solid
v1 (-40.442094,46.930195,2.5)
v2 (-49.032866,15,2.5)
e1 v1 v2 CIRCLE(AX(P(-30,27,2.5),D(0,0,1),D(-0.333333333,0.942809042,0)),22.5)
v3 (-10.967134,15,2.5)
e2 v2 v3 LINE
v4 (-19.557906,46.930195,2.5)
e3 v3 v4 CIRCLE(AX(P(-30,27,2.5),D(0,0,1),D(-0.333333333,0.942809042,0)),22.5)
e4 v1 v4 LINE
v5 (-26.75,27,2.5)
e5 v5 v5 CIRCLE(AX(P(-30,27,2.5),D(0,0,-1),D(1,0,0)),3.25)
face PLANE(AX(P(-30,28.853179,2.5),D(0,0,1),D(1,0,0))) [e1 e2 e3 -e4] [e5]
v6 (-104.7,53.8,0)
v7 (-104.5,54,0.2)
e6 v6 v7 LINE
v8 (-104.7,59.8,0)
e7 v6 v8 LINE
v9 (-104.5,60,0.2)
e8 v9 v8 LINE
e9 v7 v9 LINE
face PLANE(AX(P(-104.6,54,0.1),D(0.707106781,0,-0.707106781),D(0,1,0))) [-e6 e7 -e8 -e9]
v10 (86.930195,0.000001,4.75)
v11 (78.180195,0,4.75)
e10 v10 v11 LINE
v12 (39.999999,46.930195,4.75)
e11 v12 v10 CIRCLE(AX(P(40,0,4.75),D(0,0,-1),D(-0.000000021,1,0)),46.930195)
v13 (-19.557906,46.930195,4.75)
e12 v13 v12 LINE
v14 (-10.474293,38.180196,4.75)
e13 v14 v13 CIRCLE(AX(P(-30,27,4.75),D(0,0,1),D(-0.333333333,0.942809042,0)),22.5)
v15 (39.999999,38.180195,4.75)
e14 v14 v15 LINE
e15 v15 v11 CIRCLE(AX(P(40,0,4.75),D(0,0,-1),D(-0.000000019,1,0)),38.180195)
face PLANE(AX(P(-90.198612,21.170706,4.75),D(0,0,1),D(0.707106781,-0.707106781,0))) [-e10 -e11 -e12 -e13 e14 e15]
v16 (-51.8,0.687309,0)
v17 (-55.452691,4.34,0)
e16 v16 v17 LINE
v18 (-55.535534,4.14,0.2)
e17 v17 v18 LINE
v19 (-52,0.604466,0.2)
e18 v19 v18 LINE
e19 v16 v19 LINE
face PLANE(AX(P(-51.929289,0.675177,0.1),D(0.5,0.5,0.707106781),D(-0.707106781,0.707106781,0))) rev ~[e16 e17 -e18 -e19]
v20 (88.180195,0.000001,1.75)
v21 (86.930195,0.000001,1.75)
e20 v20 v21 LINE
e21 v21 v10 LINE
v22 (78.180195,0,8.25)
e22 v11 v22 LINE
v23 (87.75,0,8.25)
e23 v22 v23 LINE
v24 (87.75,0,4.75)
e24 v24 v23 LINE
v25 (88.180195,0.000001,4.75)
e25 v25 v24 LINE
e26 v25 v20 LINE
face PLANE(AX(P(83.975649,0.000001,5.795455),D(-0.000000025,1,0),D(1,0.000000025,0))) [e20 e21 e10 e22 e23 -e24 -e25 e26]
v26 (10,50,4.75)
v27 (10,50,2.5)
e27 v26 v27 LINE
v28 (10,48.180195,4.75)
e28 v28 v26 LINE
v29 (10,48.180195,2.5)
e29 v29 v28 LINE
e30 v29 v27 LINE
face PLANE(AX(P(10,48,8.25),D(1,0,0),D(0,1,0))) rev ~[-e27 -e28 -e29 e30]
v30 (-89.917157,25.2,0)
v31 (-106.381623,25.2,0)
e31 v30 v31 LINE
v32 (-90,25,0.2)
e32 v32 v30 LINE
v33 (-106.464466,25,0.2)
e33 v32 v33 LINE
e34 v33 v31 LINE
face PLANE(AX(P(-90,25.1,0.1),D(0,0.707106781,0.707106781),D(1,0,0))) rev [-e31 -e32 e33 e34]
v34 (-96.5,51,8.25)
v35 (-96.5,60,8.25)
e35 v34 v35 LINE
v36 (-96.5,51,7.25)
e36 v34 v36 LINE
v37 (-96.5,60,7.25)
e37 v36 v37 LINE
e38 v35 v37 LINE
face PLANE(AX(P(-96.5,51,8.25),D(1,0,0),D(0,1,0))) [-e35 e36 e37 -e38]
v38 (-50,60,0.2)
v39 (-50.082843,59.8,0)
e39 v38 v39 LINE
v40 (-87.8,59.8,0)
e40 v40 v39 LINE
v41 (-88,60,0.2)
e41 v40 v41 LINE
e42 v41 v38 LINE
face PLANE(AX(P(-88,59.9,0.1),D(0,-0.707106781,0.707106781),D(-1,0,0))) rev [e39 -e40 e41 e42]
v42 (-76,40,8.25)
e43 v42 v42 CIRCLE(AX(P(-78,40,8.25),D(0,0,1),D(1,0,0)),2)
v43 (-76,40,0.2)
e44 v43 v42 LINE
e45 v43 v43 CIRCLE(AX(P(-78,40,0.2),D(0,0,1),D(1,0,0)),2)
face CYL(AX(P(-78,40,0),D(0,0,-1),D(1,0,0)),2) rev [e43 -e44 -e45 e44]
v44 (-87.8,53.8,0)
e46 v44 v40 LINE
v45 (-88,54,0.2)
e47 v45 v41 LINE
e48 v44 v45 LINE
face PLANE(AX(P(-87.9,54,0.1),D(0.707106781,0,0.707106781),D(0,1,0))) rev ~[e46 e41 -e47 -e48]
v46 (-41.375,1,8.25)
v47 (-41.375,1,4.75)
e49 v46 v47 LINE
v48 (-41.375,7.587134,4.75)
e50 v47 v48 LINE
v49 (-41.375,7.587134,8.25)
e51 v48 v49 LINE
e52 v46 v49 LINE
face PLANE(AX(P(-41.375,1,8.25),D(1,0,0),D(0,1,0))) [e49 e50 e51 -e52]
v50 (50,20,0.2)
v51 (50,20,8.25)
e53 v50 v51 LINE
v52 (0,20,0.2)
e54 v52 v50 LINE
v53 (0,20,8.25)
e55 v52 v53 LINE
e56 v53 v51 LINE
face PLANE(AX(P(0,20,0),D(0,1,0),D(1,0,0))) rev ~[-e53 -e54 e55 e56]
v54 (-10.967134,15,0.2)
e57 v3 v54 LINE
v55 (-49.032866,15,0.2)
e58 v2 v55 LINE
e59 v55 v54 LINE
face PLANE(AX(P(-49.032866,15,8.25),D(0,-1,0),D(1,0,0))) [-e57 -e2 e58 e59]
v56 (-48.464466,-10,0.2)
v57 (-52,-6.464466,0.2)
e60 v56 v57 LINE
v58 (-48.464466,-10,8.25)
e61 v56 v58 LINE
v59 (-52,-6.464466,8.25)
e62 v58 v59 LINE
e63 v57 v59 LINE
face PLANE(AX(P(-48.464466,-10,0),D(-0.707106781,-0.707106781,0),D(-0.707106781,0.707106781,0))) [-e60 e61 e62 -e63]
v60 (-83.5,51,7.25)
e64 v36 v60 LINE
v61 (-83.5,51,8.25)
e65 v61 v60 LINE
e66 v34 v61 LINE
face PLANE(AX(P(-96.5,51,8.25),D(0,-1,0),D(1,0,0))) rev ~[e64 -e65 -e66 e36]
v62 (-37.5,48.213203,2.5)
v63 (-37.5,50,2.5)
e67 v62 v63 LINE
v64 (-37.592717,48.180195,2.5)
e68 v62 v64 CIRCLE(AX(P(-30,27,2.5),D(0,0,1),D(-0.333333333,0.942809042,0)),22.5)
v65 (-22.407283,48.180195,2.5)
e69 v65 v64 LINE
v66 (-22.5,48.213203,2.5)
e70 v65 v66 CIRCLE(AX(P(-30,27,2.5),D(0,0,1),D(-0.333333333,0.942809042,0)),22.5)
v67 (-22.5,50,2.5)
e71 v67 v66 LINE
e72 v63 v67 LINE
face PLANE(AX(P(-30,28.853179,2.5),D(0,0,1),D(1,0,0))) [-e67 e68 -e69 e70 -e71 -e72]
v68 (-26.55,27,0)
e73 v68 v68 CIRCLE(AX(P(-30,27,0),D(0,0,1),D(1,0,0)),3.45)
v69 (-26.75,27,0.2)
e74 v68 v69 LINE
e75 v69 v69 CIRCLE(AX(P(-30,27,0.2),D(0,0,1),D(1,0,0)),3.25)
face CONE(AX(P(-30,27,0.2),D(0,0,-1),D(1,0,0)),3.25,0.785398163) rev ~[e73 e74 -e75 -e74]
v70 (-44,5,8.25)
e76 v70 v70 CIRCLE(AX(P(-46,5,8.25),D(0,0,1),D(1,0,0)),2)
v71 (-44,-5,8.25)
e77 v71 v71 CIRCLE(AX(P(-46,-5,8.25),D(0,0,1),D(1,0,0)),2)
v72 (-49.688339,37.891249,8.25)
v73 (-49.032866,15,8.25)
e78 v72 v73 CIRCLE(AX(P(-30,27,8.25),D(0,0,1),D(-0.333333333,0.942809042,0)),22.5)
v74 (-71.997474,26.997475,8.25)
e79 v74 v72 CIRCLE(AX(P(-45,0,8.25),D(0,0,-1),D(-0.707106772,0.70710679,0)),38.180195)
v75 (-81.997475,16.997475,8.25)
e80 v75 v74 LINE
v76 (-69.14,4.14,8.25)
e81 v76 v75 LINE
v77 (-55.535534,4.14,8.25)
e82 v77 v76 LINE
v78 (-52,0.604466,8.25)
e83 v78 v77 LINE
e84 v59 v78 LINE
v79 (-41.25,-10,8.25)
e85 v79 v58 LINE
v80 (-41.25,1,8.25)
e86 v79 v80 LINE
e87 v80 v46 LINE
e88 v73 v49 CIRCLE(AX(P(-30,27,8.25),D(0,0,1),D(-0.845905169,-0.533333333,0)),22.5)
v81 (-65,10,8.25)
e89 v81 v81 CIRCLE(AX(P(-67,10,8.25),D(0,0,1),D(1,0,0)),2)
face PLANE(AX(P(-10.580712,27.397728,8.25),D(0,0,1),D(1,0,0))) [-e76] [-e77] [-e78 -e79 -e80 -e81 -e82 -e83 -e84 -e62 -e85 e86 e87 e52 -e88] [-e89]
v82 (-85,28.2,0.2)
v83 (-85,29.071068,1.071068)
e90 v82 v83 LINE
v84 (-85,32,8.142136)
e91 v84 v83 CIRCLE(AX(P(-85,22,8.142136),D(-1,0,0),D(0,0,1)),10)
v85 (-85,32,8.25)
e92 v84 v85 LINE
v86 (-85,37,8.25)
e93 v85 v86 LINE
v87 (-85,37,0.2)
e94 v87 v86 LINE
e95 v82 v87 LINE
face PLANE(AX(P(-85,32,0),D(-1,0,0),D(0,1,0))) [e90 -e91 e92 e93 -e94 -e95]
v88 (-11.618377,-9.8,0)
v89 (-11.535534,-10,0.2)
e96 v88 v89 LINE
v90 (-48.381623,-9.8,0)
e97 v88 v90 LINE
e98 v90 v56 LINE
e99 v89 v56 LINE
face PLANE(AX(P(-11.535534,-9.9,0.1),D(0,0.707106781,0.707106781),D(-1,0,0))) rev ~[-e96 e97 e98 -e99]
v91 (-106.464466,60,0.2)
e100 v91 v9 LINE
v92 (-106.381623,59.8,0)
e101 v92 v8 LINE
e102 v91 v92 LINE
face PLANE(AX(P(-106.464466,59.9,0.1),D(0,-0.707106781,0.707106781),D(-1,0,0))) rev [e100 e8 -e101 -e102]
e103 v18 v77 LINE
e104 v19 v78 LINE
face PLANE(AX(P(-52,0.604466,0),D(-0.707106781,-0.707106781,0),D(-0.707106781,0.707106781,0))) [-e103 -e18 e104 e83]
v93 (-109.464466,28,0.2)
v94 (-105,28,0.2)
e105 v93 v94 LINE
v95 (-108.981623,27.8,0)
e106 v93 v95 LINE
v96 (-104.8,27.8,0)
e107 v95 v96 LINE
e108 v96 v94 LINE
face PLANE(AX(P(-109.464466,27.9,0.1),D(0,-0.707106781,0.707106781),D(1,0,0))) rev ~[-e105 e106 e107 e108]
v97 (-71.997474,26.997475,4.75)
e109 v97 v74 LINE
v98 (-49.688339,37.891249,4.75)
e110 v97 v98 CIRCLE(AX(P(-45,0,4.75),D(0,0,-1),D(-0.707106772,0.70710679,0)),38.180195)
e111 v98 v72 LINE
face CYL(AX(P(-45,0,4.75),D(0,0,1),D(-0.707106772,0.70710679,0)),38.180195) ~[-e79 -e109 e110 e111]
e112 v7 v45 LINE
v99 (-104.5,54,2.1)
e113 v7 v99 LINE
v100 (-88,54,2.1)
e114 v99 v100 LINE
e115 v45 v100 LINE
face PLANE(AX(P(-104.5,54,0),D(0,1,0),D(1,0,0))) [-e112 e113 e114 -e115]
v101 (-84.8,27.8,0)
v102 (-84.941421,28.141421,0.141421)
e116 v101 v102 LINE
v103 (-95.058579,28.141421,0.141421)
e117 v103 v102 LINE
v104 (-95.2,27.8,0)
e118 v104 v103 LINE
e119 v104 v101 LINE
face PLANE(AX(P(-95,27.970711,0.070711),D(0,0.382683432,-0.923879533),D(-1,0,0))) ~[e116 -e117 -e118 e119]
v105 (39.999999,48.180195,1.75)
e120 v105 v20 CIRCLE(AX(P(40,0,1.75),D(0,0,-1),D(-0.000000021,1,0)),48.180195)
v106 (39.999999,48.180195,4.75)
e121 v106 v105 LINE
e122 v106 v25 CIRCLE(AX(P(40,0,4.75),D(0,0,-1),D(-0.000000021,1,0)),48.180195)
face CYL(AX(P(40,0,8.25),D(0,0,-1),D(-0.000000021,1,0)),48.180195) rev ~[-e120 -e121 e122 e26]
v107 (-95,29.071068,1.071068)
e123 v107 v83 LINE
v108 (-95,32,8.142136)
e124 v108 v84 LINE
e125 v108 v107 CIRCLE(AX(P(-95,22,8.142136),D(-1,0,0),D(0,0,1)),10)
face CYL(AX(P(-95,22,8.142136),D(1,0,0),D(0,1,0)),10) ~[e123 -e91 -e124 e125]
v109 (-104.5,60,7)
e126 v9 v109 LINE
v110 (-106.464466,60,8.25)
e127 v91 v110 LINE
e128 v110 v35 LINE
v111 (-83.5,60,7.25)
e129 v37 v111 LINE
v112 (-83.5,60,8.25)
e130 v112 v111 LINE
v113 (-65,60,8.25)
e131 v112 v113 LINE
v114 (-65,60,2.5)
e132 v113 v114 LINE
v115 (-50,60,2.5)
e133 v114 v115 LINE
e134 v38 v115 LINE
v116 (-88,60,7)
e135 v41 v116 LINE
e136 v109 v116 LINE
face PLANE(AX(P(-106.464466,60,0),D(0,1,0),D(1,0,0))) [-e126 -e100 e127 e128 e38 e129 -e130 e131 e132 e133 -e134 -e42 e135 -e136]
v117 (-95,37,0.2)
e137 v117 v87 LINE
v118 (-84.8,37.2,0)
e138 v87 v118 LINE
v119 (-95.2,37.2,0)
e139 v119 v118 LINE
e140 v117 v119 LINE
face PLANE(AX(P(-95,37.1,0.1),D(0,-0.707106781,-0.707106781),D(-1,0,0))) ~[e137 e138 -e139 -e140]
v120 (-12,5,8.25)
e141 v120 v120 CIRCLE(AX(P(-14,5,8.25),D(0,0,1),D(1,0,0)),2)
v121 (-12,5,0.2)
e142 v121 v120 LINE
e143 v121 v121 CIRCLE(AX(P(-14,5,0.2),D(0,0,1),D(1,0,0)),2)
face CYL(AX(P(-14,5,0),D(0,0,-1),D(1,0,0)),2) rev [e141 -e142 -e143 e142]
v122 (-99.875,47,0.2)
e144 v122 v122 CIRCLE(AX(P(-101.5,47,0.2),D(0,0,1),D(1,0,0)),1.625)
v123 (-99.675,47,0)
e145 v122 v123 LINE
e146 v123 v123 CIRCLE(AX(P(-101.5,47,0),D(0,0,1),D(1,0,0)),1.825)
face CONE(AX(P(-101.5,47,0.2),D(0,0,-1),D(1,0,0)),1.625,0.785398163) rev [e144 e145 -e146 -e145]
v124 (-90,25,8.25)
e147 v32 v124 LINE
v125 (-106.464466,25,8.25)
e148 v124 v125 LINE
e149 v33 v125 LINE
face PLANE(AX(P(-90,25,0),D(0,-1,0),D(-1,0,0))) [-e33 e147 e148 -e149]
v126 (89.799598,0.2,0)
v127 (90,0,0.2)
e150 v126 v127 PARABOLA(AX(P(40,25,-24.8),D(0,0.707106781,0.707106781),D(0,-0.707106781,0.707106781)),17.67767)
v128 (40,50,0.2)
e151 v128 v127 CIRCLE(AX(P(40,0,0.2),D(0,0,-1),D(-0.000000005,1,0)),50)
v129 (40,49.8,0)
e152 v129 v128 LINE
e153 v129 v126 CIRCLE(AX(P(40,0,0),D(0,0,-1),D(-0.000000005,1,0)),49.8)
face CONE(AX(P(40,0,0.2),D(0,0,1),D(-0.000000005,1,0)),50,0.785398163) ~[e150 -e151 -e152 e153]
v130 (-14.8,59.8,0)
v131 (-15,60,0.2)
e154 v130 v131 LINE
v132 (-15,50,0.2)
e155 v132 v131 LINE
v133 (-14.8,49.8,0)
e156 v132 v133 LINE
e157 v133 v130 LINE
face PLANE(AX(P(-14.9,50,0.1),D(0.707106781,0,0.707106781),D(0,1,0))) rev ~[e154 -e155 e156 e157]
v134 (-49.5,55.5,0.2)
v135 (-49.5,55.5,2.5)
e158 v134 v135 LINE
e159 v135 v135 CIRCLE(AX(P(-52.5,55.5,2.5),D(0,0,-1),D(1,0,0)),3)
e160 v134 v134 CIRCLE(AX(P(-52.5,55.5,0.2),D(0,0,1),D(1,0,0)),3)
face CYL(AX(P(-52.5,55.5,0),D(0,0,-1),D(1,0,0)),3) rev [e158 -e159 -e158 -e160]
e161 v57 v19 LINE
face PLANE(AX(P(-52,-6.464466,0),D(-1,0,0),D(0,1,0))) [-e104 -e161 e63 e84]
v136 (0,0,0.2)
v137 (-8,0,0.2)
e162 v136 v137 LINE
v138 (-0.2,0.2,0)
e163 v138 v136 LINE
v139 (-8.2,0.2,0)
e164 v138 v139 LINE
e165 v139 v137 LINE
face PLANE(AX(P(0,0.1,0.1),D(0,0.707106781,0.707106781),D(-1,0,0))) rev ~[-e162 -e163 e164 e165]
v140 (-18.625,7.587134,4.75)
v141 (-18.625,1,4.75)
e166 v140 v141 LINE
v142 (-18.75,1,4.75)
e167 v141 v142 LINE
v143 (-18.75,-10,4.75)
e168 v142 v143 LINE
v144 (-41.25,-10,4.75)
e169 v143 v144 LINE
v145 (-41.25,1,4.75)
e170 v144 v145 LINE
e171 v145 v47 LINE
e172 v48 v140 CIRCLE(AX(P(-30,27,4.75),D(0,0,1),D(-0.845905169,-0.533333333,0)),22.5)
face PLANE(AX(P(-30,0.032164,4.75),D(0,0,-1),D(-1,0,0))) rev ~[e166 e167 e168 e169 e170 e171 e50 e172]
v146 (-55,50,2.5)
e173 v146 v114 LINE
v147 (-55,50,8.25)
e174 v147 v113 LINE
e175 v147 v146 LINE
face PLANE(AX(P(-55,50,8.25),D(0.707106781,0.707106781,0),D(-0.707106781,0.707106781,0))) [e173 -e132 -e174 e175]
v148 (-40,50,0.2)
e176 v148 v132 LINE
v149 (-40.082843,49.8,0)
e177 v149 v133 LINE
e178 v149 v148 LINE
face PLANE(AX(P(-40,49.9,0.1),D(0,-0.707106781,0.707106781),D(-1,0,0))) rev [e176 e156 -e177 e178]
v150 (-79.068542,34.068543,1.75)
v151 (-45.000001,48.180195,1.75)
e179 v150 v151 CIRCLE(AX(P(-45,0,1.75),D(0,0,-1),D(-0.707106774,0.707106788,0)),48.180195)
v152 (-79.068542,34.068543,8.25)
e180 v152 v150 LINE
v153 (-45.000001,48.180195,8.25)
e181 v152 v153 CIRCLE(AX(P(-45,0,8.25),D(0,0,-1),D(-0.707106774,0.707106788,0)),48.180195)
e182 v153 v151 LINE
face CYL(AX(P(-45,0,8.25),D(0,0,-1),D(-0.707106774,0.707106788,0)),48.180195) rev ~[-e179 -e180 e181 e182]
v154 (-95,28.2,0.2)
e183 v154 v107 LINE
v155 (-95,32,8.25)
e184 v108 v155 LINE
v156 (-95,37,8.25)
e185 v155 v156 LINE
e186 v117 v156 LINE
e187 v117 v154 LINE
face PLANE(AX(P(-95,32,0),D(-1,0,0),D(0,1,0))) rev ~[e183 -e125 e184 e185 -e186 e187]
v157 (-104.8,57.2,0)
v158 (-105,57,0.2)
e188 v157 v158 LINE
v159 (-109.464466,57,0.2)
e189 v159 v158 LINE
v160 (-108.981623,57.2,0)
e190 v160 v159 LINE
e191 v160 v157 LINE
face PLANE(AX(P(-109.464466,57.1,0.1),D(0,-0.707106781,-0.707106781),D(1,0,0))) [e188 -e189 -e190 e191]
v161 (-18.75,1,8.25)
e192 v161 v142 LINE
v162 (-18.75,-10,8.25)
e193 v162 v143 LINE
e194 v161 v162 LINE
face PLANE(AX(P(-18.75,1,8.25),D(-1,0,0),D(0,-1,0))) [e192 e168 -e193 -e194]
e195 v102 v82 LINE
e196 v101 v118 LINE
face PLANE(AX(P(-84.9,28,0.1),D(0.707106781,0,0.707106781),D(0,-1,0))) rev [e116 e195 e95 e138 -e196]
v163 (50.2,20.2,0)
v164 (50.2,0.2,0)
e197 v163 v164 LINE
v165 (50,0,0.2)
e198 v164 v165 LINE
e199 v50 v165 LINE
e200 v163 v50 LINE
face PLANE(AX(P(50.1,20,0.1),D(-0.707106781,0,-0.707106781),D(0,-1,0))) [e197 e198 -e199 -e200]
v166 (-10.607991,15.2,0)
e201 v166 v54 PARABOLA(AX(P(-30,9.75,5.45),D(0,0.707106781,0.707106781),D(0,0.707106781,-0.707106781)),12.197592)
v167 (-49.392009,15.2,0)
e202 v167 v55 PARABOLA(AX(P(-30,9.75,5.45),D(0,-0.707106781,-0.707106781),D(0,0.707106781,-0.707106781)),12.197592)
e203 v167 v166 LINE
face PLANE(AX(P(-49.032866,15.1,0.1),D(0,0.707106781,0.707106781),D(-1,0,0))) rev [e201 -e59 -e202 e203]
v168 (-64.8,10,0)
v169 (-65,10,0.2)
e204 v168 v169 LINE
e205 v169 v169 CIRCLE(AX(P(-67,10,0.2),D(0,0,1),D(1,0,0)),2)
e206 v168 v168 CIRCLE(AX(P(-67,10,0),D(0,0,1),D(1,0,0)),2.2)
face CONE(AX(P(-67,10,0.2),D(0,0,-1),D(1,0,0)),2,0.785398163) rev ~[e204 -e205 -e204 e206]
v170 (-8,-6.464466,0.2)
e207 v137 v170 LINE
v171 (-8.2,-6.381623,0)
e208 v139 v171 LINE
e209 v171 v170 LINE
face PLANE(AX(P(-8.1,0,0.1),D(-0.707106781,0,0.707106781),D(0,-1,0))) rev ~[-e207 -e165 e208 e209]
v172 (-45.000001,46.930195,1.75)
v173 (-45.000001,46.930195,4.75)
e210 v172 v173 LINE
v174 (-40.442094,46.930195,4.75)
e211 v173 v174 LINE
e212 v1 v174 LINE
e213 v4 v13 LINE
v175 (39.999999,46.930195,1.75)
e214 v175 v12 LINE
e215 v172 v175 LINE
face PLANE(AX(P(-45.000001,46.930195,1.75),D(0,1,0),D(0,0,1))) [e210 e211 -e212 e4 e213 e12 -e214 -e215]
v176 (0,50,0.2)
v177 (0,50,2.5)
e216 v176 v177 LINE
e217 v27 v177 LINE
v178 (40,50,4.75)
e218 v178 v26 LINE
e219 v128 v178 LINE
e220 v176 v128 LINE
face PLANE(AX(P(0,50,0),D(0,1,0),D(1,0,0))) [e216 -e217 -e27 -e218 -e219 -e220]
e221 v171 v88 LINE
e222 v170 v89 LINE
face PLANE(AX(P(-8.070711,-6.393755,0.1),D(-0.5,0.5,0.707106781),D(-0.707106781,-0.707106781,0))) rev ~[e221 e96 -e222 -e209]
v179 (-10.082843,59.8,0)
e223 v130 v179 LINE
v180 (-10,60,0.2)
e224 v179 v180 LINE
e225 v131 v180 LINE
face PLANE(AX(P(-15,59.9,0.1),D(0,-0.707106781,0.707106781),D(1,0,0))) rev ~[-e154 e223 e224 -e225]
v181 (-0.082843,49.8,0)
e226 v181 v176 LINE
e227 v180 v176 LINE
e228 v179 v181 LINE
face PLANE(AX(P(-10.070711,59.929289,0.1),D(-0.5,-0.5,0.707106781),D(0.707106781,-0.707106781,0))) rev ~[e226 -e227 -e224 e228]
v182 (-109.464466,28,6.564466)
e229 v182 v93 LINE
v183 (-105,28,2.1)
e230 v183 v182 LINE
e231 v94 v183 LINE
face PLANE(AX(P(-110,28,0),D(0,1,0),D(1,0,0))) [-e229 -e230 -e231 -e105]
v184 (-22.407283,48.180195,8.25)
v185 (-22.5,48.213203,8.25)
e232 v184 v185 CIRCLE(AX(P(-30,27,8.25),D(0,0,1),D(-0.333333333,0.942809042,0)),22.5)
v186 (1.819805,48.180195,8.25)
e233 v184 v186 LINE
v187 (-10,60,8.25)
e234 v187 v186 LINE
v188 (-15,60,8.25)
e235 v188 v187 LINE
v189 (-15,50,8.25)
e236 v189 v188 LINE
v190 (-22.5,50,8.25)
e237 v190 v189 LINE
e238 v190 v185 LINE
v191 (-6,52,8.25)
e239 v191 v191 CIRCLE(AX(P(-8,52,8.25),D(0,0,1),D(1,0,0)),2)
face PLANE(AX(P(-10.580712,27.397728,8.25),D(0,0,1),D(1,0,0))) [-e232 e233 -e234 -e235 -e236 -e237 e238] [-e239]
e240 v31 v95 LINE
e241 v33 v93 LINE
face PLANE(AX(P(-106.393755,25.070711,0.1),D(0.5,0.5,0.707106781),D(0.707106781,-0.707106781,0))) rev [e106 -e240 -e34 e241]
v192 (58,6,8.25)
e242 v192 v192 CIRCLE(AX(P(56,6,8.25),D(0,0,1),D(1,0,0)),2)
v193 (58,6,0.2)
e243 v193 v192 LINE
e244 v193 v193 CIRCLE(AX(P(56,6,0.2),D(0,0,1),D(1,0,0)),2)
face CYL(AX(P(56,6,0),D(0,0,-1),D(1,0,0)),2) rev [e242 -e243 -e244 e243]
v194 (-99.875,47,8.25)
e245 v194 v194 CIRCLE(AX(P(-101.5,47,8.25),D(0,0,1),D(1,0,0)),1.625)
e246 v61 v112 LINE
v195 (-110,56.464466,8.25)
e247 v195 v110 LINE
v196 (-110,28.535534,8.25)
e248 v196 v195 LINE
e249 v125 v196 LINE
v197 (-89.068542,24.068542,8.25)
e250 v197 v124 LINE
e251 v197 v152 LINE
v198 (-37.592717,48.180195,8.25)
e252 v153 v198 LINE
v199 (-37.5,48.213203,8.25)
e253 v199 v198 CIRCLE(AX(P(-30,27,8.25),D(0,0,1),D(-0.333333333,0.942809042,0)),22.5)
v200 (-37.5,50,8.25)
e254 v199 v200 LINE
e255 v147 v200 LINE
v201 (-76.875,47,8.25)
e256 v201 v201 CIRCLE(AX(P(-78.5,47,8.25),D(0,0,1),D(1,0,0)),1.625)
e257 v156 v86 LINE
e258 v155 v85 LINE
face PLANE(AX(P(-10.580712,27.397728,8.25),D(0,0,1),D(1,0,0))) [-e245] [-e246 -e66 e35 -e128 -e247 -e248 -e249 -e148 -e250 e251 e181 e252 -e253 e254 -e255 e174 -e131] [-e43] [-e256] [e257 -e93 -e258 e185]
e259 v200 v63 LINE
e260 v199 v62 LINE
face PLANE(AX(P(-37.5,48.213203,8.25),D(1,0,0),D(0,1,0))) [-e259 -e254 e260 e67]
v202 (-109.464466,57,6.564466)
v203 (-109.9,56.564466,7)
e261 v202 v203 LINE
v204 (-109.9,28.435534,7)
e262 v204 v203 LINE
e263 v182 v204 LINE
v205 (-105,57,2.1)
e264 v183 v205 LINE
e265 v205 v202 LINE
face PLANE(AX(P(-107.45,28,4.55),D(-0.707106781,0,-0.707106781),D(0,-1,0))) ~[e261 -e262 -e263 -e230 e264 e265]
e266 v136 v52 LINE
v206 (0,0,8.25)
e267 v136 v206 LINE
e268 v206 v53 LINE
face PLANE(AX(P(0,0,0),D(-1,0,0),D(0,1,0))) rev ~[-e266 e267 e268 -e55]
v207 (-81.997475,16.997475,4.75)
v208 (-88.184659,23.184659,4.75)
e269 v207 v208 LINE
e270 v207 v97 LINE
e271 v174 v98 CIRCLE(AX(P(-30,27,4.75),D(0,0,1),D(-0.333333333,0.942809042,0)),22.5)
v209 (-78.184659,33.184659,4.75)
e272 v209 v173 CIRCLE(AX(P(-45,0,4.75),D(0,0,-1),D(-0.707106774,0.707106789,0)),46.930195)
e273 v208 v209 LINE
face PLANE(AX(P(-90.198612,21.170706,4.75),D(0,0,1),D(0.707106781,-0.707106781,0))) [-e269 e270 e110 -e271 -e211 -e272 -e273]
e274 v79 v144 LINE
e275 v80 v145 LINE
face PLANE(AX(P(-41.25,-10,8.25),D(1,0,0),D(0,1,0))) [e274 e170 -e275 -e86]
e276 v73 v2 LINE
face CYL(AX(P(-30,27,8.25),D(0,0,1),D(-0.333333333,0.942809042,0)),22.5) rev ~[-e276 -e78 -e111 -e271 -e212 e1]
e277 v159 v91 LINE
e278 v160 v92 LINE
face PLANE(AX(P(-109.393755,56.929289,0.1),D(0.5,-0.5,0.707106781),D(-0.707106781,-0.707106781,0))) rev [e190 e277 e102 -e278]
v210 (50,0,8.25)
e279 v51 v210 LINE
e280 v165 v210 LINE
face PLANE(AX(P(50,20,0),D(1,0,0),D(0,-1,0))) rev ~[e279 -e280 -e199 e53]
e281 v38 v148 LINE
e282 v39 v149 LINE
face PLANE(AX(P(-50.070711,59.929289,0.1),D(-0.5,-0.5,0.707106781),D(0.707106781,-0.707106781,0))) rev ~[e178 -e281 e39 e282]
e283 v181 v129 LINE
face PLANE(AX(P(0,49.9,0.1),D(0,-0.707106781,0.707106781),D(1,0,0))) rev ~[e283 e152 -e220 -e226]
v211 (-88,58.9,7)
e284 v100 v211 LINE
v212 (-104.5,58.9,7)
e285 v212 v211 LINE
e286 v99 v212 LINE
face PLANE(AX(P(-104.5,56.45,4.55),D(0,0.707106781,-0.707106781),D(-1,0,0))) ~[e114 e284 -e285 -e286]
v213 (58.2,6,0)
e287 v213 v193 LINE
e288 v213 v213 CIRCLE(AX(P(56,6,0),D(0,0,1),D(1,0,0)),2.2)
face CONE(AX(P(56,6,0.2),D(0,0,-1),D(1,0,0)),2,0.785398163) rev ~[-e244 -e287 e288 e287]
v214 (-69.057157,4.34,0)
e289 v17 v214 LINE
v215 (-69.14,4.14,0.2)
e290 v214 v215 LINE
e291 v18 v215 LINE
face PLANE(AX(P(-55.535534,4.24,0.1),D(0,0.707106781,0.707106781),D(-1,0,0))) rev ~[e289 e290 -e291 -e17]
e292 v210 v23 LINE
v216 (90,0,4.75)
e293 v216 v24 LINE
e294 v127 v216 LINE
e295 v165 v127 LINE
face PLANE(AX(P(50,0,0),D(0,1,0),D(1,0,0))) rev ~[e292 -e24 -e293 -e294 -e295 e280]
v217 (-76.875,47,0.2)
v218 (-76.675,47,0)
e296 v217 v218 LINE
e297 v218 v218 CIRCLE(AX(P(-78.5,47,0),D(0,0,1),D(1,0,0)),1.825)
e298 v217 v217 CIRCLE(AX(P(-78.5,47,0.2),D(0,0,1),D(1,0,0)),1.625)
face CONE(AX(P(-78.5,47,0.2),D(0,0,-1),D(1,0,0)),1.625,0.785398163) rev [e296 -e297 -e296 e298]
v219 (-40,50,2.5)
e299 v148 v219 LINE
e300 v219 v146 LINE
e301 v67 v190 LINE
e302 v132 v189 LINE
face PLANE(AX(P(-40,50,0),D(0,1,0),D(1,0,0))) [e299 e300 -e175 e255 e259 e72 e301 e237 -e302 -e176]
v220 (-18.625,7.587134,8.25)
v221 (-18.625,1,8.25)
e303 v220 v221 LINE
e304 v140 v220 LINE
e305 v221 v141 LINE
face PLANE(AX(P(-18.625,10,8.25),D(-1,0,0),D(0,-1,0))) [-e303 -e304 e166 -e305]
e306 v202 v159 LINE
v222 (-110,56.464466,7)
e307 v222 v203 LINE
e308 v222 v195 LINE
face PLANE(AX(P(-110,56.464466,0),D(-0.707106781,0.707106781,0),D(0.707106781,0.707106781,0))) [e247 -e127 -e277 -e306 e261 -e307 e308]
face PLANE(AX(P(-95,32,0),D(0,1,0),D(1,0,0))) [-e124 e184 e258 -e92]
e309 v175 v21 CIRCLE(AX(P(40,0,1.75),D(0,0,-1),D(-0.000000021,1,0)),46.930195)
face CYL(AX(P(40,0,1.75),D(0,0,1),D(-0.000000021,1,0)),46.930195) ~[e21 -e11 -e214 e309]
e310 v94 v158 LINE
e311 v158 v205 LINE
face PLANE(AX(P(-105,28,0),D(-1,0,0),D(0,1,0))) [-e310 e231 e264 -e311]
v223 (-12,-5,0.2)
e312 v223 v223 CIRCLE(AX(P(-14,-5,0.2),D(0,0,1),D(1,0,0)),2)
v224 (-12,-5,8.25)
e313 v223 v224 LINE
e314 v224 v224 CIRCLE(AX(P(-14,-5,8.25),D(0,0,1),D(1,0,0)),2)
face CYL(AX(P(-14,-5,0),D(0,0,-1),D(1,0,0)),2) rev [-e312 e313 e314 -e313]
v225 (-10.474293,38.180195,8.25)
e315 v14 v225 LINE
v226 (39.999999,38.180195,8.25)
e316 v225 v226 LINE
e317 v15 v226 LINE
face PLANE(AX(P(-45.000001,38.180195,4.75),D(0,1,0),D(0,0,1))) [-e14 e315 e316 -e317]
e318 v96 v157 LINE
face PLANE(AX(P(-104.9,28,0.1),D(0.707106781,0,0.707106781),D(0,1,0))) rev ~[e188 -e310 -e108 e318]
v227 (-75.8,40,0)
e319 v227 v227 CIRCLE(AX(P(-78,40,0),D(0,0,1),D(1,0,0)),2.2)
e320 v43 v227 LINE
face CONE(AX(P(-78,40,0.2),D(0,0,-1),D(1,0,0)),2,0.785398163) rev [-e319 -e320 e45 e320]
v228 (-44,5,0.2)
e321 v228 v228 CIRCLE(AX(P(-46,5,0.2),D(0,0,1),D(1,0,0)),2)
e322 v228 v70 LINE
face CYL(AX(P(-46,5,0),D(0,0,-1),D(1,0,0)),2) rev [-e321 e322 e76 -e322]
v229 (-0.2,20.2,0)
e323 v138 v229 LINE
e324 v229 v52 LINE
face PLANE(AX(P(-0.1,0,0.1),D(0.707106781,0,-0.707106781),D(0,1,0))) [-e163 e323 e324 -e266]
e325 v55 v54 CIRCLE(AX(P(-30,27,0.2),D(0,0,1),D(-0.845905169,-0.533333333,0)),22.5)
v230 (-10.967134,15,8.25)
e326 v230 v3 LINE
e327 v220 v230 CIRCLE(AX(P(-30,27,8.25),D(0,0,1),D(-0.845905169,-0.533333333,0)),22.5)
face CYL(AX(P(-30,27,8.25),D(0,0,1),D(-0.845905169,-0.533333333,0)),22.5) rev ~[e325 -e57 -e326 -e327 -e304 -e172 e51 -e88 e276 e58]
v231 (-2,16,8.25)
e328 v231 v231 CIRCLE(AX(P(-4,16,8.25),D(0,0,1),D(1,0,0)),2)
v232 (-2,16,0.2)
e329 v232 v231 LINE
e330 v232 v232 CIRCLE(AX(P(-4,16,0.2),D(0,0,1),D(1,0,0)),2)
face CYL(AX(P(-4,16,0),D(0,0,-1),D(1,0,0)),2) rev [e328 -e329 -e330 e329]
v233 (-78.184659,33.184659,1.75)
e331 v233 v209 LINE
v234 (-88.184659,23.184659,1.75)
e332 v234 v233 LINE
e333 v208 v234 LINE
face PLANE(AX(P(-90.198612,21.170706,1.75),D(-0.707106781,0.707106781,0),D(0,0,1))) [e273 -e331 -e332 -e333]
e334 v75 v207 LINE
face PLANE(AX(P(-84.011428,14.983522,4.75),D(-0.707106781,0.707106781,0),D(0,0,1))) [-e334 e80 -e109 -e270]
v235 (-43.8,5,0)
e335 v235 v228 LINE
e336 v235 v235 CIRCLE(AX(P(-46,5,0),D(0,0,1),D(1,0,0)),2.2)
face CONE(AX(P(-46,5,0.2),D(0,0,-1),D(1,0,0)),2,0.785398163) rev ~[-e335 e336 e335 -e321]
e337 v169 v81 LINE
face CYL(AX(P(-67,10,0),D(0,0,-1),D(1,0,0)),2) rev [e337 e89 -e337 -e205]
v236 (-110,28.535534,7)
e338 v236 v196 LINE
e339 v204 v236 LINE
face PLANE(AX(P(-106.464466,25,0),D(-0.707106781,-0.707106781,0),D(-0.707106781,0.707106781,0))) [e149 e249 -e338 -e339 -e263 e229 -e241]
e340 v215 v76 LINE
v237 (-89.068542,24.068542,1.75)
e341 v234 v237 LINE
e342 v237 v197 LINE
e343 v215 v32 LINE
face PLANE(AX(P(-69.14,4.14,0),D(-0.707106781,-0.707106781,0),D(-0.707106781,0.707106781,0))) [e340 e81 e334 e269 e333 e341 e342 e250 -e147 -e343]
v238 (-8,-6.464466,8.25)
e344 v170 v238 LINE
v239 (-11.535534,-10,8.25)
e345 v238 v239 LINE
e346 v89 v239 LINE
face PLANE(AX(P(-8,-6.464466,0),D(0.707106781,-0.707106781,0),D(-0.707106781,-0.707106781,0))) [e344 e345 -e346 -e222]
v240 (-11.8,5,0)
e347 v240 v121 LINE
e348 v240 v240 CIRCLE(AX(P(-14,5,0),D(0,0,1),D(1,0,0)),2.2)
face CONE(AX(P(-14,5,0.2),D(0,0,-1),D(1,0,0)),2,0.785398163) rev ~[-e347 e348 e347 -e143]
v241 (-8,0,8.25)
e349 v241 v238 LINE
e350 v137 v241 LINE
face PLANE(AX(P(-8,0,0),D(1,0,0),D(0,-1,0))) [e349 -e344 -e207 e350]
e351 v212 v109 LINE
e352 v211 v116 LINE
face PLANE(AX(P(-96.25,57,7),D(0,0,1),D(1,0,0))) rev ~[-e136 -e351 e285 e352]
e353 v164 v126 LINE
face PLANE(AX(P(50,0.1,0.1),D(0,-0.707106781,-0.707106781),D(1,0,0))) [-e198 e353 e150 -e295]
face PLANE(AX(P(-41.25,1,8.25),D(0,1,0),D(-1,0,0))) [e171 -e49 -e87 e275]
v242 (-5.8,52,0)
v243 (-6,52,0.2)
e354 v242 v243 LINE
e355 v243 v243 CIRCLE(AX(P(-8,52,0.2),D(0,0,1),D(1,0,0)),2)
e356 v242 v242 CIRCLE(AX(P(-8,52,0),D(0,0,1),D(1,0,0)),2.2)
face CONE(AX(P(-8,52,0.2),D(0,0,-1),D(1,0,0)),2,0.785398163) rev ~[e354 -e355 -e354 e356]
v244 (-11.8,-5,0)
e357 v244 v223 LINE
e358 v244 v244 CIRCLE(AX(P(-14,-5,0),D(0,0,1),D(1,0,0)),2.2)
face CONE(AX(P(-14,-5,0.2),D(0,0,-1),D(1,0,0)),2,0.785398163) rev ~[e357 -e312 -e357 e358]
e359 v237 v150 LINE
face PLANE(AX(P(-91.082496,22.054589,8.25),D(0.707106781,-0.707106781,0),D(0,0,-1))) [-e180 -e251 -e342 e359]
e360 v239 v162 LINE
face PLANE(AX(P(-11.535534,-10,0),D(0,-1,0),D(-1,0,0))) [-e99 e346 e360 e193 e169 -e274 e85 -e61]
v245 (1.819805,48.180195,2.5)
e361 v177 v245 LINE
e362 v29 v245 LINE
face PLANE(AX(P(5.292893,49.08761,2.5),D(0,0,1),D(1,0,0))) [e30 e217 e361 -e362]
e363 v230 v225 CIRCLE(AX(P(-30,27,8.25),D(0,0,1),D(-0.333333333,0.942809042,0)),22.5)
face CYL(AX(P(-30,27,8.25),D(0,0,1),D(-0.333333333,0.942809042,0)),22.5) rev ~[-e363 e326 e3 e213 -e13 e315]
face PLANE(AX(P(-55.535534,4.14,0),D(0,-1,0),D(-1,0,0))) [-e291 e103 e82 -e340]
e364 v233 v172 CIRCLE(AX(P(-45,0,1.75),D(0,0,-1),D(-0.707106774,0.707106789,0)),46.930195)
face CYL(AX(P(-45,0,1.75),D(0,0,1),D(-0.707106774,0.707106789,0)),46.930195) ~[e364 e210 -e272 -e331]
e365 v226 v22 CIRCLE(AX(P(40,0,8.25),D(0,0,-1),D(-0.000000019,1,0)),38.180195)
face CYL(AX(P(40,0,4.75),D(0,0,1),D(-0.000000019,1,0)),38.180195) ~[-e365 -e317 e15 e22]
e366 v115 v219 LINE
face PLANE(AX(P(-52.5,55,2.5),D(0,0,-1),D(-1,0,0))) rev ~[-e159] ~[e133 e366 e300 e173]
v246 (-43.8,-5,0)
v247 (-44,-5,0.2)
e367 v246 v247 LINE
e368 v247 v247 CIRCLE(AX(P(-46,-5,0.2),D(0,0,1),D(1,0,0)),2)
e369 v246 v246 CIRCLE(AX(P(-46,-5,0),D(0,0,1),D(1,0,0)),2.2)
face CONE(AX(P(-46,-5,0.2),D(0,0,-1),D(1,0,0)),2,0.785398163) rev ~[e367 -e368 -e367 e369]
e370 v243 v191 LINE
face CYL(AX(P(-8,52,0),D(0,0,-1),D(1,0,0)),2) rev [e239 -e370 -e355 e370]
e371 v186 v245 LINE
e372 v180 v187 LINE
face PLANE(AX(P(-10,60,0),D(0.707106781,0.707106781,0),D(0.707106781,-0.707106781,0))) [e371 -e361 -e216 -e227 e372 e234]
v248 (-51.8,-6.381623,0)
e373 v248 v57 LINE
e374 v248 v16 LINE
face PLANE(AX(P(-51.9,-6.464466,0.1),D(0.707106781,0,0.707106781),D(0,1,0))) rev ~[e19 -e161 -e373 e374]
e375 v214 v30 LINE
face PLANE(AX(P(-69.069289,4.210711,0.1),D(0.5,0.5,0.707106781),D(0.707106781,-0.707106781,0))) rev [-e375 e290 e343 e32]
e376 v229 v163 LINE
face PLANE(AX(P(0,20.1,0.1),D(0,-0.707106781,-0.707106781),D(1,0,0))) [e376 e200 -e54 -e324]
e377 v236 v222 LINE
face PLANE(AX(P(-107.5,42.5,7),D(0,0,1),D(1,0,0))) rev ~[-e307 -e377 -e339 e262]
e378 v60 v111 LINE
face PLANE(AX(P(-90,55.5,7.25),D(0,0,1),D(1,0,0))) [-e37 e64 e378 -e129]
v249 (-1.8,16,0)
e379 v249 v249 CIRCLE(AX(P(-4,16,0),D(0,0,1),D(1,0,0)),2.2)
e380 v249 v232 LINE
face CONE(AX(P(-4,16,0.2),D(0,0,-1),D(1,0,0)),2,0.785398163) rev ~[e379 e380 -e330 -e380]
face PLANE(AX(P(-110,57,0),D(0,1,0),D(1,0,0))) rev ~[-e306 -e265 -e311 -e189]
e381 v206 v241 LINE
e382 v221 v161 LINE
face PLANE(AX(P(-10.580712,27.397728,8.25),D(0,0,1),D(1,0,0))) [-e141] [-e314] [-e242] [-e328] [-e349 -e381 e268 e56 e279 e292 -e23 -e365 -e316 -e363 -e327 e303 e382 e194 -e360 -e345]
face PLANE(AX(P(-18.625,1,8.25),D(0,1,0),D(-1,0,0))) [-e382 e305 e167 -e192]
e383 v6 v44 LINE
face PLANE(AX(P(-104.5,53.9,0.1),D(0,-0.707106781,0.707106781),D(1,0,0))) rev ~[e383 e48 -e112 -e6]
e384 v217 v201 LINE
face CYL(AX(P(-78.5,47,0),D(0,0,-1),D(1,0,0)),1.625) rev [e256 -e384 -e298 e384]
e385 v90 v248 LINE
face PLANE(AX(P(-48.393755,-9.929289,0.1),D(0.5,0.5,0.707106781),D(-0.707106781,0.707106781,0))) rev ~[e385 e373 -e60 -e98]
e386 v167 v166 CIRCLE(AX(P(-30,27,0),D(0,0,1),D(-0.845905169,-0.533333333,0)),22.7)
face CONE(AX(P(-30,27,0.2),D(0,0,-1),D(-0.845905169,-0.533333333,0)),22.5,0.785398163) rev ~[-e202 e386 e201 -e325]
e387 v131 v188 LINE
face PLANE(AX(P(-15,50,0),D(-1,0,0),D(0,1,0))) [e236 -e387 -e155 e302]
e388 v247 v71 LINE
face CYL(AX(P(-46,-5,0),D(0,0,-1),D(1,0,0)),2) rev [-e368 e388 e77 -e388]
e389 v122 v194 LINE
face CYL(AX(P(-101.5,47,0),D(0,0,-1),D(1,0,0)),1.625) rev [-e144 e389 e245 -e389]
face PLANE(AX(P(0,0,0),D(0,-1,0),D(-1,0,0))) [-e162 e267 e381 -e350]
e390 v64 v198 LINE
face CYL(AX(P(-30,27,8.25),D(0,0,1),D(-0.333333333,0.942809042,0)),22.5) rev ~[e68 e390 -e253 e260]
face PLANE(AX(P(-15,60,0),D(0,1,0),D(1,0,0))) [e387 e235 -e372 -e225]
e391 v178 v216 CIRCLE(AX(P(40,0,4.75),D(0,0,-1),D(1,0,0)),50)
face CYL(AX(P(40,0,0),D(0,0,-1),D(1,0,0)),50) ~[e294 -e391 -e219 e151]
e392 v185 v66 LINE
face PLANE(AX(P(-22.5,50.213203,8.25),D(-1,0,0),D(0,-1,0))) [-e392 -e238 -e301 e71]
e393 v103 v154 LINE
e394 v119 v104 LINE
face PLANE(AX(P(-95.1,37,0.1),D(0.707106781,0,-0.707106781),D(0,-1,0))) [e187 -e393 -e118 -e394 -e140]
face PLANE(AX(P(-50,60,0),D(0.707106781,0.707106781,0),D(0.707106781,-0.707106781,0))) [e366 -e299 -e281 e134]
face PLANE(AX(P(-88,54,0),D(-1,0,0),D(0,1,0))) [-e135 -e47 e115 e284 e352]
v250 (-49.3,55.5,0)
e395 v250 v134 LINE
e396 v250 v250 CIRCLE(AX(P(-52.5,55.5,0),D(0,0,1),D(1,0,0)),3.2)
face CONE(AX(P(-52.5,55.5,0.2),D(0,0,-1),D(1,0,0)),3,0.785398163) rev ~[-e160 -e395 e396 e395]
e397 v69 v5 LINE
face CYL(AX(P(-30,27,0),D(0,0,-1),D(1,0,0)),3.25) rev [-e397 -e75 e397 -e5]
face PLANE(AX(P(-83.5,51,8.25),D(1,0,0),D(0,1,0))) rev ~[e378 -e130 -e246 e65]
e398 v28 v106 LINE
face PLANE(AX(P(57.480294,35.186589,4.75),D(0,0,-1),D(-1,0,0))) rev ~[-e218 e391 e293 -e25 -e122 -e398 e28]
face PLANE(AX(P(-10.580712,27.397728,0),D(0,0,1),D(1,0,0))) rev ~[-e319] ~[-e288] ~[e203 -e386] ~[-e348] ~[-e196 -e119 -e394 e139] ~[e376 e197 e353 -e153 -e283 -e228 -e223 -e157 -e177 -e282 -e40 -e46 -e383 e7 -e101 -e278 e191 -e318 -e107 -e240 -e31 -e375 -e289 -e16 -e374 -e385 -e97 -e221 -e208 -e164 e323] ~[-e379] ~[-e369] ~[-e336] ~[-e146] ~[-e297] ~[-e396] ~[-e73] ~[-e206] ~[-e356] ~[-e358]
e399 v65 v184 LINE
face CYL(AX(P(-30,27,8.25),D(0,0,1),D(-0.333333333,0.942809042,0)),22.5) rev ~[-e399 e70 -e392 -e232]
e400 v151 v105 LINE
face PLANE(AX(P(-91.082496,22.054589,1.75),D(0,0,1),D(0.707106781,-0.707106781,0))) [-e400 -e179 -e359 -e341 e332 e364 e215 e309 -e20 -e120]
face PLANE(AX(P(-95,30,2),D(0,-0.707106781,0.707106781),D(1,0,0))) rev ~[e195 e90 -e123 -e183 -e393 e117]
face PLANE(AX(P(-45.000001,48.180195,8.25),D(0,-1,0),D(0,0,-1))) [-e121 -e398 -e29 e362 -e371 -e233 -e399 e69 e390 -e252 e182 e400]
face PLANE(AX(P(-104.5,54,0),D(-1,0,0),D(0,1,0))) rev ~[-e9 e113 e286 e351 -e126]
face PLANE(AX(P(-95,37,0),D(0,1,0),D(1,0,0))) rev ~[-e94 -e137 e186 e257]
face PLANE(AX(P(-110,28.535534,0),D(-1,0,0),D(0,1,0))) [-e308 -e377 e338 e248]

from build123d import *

# Parameters (mm, degrees)
SKETCH_R        = 2
SKETCH_R_2      = 3.25
SKETCH_R_3      = 3
SKETCH_R_4      = 1.625
SKETCH_W        = 10
SKETCH_H        = 5
PAD_DEPTH       = 8.25
POCKET_DEPTH    = 5.75
POCKET001_DEPTH = 8.5
POCKET002_DEPTH = 3.5
SKETCH006_W     = 5
SKETCH006_H     = 29
SKETCH006_W_2   = 16.5
SKETCH006_H_2   = 6
POCKET003_DEPTH = 7
CHAMFER_SIZE    = 4.9
CHAMFER001_SIZE = 4
FILLET_R        = 10
POCKET004_DEPTH = 3.5
SKETCH008_W     = 13
SKETCH008_H     = 9
POCKET005_DEPTH = 1
CHAMFER002_SIZE = 0.2


with BuildPart() as part:
    # Sketch → Pad (new body)
    with BuildSketch(Plane.XY):
        with BuildLine():
            Line((0, 20), (50, 20))
            Line((50, 20), (50, 0))
            Line((50, 0), (90, 0))
            ThreePointArc((90, 0), (75.3553389698, 35.3553391489), (39.9999997467, 50))
            Line((0, 50), (39.9999997467, 50))
            Line((-10, 60), (0, 50))
            Line((-15, 60), (-10, 60))
            Line((-15, 50), (-15, 60))
            Line((-40, 50), (-15, 50))
            Line((-50, 60), (-40, 50))
            Line((-106.4644660941, 60), (-50, 60))
            Line((-110, 56.4644660941), (-106.4644660941, 60))
            Line((-110, 28.5355339059), (-110, 56.4644660941))
            Line((-106.4644660941, 25), (-110, 28.5355339059))
            Line((-90, 25), (-106.4644660941, 25))
            Line((-69.14, 4.14), (-90, 25))
            Line((-55.5355339059, 4.14), (-69.14, 4.14))
            Line((-52, 0.6044660941), (-55.5355339059, 4.14))
            Line((-52, -6.4644660941), (-52, 0.6044660941))
            Line((-48.4644660941, -10), (-52, -6.4644660941))
            Line((-11.5355339059, -10), (-48.4644660941, -10))
            Line((-8, -6.4644660941), (-11.5355339059, -10))
            Line((-8, 0), (-8, -6.4644660941))
            Line((0, 0), (-8, 0))
            Line((0, 0), (0, 20))
        make_face()
        with Locations((56, 6)):
            Circle(SKETCH_R, mode=Mode.SUBTRACT)
        with Locations((-4, 16)):
            Circle(SKETCH_R, mode=Mode.SUBTRACT)
        with Locations((-8, 52)):
            Circle(SKETCH_R, mode=Mode.SUBTRACT)
        with Locations((-67, 10)):
            Circle(SKETCH_R, mode=Mode.SUBTRACT)
        with Locations((-78, 40)):
            Circle(SKETCH_R, mode=Mode.SUBTRACT)
        with Locations((-30, 27)):
            Circle(SKETCH_R_2, mode=Mode.SUBTRACT)
        with Locations((-46, 5)):
            Circle(SKETCH_R, mode=Mode.SUBTRACT)
        with Locations((-46, -5)):
            Circle(SKETCH_R, mode=Mode.SUBTRACT)
        with Locations((-14, 5)):
            Circle(SKETCH_R, mode=Mode.SUBTRACT)
        with Locations((-14, -5)):
            Circle(SKETCH_R, mode=Mode.SUBTRACT)
        with Locations((-52.5, 55.5)):
            Circle(SKETCH_R_3, mode=Mode.SUBTRACT)
        with Locations((-101.5, 47)):
            Circle(SKETCH_R_4, mode=Mode.SUBTRACT)
        with Locations((-78.5, 47)):
            Circle(SKETCH_R_4, mode=Mode.SUBTRACT)
        with Locations((-90, 34.5)):
            Rectangle(SKETCH_W, SKETCH_H, mode=Mode.SUBTRACT)
    extrude(amount=PAD_DEPTH)

    # SubtractivePipe: sweep along a path in Sketch001
    with BuildLine(Plane.XY.offset(8.25)) as subtractivepipe_path:
        Line((-70.9793119541, 1.9514059028), (-58.9653585777, 13.9653592792))
        ThreePointArc((-58.9653585777, 13.9653592792), (-52.5579976182, 18.2466208379), (-45.0000001258, 19.75))
        Line((-45.0000001258, 19.75), (39.9999998705, 19.75))
        ThreePointArc((39.9999998705, 19.75), (53.9653588826, 13.9653589742), (59.75, 0))
    # Sketch002 (on Face17 of Pad) → SubtractivePipe (sweep, cut)
    with BuildSketch(Plane(origin=(-32.5, -32.5, 0), x_dir=(0.7071067812, -0.7071067812, 0), z_dir=(-0.7071067812, -0.7071067812, 0))):
        Polygon((-80, 8.25), (-80, 1.75), (-78.75, 1.75), (-78.75, 4.75), (-70, 4.75), (-70, 8.25), align=None)
    sweep(path=subtractivepipe_path.line, mode=Mode.SUBTRACT)

    # Sketch003 (on DatumPlane) → Pocket (cut)
    with BuildSketch(Plane.XY.offset(8.25)):
        with BuildLine():
            ThreePointArc((-37.5, 48.2132034356), (-30, 4.5), (-22.5, 48.2132034356))
            Line((-22.5, 50.2132034356), (-22.5, 48.2132034356))
            Line((-37.5, 50.2132034356), (-22.5, 50.2132034356))
            Line((-37.5, 48.2132034356), (-37.5, 50.2132034356))
        make_face()
        Polygon((0, 50), (2, 48), (10, 48), (10, 50), align=None)
        Polygon((-40, 50), (-55, 50), (-65, 60), (-50, 60), align=None)
    extrude(amount=-POCKET_DEPTH, mode=Mode.SUBTRACT)

    # Sketch004 (on DatumPlane) → Pocket001 (cut)
    with BuildSketch(Plane.XY.offset(8.25)):
        with BuildLine():
            ThreePointArc((-49.0328663107, 15), (-30, 4.5), (-10.9671336893, 15))
            Line((-49.0328663107, 15), (-10.9671336893, 15))
        make_face()
    extrude(amount=-POCKET001_DEPTH, mode=Mode.SUBTRACT)

    # Sketch005 (on DatumPlane) → Pocket002 (cut)
    with BuildSketch(Plane.XY.offset(8.25)):
        Polygon((-41.375, 10), (-18.625, 10), (-18.625, 1), (-18.75, 1), (-18.75, -10), (-41.25, -10), (-41.25, 1), (-41.375, 1), align=None)
    extrude(amount=-POCKET002_DEPTH, mode=Mode.SUBTRACT)

    # Sketch006 → Pocket003 (cut)
    with BuildSketch(Plane.XY):
        with Locations((-107.5, 42.5)):
            Rectangle(SKETCH006_W, SKETCH006_H)
        with Locations((-96.25, 57)):
            Rectangle(SKETCH006_W_2, SKETCH006_H_2)
    extrude(amount=POCKET003_DEPTH, mode=Mode.SUBTRACT)

    # Chamfer
    chamfer_edges = [part.edges().sort_by_distance(p)[0] for p in [
        (-96.25, 54, 7),
        (-105, 42.5, 7),
    ]]
    chamfer(chamfer_edges, length=CHAMFER_SIZE)

    # Chamfer001
    chamfer001_edges = [part.edges().sort_by_distance(p)[0] for p in [
        (-90, 32, 0),
    ]]
    chamfer(chamfer001_edges, length=CHAMFER001_SIZE)

    # Fillet
    fillet_edges = [part.edges().sort_by_distance(p)[0] for p in [
        (-90, 32, 4),
    ]]
    fillet(fillet_edges, radius=FILLET_R)

    # Sketch007 (on DatumPlane) → Pocket004 (cut)
    with BuildSketch(Plane.XY.offset(8.25)):
        with BuildLine():
            ThreePointArc((87.7395276474, -1), (74.1160699454, 33.4089250273), (39.9999991, 47.75))
            Line((9.5, 47.75), (39.9999991, 47.75))
            Line((9.5, 50.25), (9.5, 47.75))
            Line((40, 50.25), (9.5, 50.25))
            ThreePointArc((90.2400487659, -1), (75.8839274606, 35.176785669), (40, 50.25))
            Line((87.7395276474, -1), (90.2400487659, -1))
        make_face()
    extrude(amount=-POCKET004_DEPTH, mode=Mode.SUBTRACT)

    # Sketch008 (on DatumPlane) → Pocket005 (cut)
    with BuildSketch(Plane.XY.offset(8.25)):
        with Locations((-90, 55.5)):
            Rectangle(SKETCH008_W, SKETCH008_H)
    extrude(amount=-POCKET005_DEPTH, mode=Mode.SUBTRACT)

    # Chamfer002
    chamfer002_edges = [part.edges().sort_by_distance(p)[0] for p in [
        (-85, 30, 0),
        (-85, 34.5, 0),
        (-90, 28, 0),
        (-90, 37, 0),
        (-95, 30, 0),
        (-95, 34.5, 0),
        (-4, 0, 0),
        (-8, -3.232233, 0),
        (-9.767767, -8.232233, 0),
        (-30, -10, 0),
        (-50.232233, -8.232233, 0),
        (-52, -2.93, 0),
        (-53.767767, 2.372233, 0),
        (-62.337767, 4.14, 0),
        (-79.57, 14.57, 0),
        (-98.232233, 25, 0),
        (-107.964466, 26.5, 0),
        (-107.232233, 28, 0),
        (-105, 42.5, 0),
        (-107.232233, 57, 0),
        (-107.964466, 58.5, 0),
        (-105.482233, 60, 0),
        (-104.5, 57, 0),
        (-96.25, 54, 0),
        (-88, 57, 0),
        (-69, 60, 0),
        (-45, 55, 0),
        (-27.5, 50, 0),
        (-15, 55, 0),
        (-12.5, 60, 0),
        (-5, 55, 0),
        (20, 50, 0),
        (75.355339, 35.355339, 0),
        (70, 0, 0),
        (50, 10, 0),
        (25, 20, 0),
        (0, 10, 0),
        (-80.125, 47, 0),
        (-55.5, 55.5, 0),
        (-80, 40, 0),
        (-48, -5, 0),
        (-16, -5, 0),
        (-30, 4.5, 0),
        (-30, 15, 0),
        (-16, 5, 0),
        (-48, 5, 0),
        (-69, 10, 0),
        (-33.25, 27, 0),
        (-10, 52, 0),
        (-6, 16, 0),
        (54, 6, 0),
        (-103.125, 47, 0),
    ]]
    chamfer(chamfer002_edges, length=CHAMFER002_SIZE)


solid = part.part
